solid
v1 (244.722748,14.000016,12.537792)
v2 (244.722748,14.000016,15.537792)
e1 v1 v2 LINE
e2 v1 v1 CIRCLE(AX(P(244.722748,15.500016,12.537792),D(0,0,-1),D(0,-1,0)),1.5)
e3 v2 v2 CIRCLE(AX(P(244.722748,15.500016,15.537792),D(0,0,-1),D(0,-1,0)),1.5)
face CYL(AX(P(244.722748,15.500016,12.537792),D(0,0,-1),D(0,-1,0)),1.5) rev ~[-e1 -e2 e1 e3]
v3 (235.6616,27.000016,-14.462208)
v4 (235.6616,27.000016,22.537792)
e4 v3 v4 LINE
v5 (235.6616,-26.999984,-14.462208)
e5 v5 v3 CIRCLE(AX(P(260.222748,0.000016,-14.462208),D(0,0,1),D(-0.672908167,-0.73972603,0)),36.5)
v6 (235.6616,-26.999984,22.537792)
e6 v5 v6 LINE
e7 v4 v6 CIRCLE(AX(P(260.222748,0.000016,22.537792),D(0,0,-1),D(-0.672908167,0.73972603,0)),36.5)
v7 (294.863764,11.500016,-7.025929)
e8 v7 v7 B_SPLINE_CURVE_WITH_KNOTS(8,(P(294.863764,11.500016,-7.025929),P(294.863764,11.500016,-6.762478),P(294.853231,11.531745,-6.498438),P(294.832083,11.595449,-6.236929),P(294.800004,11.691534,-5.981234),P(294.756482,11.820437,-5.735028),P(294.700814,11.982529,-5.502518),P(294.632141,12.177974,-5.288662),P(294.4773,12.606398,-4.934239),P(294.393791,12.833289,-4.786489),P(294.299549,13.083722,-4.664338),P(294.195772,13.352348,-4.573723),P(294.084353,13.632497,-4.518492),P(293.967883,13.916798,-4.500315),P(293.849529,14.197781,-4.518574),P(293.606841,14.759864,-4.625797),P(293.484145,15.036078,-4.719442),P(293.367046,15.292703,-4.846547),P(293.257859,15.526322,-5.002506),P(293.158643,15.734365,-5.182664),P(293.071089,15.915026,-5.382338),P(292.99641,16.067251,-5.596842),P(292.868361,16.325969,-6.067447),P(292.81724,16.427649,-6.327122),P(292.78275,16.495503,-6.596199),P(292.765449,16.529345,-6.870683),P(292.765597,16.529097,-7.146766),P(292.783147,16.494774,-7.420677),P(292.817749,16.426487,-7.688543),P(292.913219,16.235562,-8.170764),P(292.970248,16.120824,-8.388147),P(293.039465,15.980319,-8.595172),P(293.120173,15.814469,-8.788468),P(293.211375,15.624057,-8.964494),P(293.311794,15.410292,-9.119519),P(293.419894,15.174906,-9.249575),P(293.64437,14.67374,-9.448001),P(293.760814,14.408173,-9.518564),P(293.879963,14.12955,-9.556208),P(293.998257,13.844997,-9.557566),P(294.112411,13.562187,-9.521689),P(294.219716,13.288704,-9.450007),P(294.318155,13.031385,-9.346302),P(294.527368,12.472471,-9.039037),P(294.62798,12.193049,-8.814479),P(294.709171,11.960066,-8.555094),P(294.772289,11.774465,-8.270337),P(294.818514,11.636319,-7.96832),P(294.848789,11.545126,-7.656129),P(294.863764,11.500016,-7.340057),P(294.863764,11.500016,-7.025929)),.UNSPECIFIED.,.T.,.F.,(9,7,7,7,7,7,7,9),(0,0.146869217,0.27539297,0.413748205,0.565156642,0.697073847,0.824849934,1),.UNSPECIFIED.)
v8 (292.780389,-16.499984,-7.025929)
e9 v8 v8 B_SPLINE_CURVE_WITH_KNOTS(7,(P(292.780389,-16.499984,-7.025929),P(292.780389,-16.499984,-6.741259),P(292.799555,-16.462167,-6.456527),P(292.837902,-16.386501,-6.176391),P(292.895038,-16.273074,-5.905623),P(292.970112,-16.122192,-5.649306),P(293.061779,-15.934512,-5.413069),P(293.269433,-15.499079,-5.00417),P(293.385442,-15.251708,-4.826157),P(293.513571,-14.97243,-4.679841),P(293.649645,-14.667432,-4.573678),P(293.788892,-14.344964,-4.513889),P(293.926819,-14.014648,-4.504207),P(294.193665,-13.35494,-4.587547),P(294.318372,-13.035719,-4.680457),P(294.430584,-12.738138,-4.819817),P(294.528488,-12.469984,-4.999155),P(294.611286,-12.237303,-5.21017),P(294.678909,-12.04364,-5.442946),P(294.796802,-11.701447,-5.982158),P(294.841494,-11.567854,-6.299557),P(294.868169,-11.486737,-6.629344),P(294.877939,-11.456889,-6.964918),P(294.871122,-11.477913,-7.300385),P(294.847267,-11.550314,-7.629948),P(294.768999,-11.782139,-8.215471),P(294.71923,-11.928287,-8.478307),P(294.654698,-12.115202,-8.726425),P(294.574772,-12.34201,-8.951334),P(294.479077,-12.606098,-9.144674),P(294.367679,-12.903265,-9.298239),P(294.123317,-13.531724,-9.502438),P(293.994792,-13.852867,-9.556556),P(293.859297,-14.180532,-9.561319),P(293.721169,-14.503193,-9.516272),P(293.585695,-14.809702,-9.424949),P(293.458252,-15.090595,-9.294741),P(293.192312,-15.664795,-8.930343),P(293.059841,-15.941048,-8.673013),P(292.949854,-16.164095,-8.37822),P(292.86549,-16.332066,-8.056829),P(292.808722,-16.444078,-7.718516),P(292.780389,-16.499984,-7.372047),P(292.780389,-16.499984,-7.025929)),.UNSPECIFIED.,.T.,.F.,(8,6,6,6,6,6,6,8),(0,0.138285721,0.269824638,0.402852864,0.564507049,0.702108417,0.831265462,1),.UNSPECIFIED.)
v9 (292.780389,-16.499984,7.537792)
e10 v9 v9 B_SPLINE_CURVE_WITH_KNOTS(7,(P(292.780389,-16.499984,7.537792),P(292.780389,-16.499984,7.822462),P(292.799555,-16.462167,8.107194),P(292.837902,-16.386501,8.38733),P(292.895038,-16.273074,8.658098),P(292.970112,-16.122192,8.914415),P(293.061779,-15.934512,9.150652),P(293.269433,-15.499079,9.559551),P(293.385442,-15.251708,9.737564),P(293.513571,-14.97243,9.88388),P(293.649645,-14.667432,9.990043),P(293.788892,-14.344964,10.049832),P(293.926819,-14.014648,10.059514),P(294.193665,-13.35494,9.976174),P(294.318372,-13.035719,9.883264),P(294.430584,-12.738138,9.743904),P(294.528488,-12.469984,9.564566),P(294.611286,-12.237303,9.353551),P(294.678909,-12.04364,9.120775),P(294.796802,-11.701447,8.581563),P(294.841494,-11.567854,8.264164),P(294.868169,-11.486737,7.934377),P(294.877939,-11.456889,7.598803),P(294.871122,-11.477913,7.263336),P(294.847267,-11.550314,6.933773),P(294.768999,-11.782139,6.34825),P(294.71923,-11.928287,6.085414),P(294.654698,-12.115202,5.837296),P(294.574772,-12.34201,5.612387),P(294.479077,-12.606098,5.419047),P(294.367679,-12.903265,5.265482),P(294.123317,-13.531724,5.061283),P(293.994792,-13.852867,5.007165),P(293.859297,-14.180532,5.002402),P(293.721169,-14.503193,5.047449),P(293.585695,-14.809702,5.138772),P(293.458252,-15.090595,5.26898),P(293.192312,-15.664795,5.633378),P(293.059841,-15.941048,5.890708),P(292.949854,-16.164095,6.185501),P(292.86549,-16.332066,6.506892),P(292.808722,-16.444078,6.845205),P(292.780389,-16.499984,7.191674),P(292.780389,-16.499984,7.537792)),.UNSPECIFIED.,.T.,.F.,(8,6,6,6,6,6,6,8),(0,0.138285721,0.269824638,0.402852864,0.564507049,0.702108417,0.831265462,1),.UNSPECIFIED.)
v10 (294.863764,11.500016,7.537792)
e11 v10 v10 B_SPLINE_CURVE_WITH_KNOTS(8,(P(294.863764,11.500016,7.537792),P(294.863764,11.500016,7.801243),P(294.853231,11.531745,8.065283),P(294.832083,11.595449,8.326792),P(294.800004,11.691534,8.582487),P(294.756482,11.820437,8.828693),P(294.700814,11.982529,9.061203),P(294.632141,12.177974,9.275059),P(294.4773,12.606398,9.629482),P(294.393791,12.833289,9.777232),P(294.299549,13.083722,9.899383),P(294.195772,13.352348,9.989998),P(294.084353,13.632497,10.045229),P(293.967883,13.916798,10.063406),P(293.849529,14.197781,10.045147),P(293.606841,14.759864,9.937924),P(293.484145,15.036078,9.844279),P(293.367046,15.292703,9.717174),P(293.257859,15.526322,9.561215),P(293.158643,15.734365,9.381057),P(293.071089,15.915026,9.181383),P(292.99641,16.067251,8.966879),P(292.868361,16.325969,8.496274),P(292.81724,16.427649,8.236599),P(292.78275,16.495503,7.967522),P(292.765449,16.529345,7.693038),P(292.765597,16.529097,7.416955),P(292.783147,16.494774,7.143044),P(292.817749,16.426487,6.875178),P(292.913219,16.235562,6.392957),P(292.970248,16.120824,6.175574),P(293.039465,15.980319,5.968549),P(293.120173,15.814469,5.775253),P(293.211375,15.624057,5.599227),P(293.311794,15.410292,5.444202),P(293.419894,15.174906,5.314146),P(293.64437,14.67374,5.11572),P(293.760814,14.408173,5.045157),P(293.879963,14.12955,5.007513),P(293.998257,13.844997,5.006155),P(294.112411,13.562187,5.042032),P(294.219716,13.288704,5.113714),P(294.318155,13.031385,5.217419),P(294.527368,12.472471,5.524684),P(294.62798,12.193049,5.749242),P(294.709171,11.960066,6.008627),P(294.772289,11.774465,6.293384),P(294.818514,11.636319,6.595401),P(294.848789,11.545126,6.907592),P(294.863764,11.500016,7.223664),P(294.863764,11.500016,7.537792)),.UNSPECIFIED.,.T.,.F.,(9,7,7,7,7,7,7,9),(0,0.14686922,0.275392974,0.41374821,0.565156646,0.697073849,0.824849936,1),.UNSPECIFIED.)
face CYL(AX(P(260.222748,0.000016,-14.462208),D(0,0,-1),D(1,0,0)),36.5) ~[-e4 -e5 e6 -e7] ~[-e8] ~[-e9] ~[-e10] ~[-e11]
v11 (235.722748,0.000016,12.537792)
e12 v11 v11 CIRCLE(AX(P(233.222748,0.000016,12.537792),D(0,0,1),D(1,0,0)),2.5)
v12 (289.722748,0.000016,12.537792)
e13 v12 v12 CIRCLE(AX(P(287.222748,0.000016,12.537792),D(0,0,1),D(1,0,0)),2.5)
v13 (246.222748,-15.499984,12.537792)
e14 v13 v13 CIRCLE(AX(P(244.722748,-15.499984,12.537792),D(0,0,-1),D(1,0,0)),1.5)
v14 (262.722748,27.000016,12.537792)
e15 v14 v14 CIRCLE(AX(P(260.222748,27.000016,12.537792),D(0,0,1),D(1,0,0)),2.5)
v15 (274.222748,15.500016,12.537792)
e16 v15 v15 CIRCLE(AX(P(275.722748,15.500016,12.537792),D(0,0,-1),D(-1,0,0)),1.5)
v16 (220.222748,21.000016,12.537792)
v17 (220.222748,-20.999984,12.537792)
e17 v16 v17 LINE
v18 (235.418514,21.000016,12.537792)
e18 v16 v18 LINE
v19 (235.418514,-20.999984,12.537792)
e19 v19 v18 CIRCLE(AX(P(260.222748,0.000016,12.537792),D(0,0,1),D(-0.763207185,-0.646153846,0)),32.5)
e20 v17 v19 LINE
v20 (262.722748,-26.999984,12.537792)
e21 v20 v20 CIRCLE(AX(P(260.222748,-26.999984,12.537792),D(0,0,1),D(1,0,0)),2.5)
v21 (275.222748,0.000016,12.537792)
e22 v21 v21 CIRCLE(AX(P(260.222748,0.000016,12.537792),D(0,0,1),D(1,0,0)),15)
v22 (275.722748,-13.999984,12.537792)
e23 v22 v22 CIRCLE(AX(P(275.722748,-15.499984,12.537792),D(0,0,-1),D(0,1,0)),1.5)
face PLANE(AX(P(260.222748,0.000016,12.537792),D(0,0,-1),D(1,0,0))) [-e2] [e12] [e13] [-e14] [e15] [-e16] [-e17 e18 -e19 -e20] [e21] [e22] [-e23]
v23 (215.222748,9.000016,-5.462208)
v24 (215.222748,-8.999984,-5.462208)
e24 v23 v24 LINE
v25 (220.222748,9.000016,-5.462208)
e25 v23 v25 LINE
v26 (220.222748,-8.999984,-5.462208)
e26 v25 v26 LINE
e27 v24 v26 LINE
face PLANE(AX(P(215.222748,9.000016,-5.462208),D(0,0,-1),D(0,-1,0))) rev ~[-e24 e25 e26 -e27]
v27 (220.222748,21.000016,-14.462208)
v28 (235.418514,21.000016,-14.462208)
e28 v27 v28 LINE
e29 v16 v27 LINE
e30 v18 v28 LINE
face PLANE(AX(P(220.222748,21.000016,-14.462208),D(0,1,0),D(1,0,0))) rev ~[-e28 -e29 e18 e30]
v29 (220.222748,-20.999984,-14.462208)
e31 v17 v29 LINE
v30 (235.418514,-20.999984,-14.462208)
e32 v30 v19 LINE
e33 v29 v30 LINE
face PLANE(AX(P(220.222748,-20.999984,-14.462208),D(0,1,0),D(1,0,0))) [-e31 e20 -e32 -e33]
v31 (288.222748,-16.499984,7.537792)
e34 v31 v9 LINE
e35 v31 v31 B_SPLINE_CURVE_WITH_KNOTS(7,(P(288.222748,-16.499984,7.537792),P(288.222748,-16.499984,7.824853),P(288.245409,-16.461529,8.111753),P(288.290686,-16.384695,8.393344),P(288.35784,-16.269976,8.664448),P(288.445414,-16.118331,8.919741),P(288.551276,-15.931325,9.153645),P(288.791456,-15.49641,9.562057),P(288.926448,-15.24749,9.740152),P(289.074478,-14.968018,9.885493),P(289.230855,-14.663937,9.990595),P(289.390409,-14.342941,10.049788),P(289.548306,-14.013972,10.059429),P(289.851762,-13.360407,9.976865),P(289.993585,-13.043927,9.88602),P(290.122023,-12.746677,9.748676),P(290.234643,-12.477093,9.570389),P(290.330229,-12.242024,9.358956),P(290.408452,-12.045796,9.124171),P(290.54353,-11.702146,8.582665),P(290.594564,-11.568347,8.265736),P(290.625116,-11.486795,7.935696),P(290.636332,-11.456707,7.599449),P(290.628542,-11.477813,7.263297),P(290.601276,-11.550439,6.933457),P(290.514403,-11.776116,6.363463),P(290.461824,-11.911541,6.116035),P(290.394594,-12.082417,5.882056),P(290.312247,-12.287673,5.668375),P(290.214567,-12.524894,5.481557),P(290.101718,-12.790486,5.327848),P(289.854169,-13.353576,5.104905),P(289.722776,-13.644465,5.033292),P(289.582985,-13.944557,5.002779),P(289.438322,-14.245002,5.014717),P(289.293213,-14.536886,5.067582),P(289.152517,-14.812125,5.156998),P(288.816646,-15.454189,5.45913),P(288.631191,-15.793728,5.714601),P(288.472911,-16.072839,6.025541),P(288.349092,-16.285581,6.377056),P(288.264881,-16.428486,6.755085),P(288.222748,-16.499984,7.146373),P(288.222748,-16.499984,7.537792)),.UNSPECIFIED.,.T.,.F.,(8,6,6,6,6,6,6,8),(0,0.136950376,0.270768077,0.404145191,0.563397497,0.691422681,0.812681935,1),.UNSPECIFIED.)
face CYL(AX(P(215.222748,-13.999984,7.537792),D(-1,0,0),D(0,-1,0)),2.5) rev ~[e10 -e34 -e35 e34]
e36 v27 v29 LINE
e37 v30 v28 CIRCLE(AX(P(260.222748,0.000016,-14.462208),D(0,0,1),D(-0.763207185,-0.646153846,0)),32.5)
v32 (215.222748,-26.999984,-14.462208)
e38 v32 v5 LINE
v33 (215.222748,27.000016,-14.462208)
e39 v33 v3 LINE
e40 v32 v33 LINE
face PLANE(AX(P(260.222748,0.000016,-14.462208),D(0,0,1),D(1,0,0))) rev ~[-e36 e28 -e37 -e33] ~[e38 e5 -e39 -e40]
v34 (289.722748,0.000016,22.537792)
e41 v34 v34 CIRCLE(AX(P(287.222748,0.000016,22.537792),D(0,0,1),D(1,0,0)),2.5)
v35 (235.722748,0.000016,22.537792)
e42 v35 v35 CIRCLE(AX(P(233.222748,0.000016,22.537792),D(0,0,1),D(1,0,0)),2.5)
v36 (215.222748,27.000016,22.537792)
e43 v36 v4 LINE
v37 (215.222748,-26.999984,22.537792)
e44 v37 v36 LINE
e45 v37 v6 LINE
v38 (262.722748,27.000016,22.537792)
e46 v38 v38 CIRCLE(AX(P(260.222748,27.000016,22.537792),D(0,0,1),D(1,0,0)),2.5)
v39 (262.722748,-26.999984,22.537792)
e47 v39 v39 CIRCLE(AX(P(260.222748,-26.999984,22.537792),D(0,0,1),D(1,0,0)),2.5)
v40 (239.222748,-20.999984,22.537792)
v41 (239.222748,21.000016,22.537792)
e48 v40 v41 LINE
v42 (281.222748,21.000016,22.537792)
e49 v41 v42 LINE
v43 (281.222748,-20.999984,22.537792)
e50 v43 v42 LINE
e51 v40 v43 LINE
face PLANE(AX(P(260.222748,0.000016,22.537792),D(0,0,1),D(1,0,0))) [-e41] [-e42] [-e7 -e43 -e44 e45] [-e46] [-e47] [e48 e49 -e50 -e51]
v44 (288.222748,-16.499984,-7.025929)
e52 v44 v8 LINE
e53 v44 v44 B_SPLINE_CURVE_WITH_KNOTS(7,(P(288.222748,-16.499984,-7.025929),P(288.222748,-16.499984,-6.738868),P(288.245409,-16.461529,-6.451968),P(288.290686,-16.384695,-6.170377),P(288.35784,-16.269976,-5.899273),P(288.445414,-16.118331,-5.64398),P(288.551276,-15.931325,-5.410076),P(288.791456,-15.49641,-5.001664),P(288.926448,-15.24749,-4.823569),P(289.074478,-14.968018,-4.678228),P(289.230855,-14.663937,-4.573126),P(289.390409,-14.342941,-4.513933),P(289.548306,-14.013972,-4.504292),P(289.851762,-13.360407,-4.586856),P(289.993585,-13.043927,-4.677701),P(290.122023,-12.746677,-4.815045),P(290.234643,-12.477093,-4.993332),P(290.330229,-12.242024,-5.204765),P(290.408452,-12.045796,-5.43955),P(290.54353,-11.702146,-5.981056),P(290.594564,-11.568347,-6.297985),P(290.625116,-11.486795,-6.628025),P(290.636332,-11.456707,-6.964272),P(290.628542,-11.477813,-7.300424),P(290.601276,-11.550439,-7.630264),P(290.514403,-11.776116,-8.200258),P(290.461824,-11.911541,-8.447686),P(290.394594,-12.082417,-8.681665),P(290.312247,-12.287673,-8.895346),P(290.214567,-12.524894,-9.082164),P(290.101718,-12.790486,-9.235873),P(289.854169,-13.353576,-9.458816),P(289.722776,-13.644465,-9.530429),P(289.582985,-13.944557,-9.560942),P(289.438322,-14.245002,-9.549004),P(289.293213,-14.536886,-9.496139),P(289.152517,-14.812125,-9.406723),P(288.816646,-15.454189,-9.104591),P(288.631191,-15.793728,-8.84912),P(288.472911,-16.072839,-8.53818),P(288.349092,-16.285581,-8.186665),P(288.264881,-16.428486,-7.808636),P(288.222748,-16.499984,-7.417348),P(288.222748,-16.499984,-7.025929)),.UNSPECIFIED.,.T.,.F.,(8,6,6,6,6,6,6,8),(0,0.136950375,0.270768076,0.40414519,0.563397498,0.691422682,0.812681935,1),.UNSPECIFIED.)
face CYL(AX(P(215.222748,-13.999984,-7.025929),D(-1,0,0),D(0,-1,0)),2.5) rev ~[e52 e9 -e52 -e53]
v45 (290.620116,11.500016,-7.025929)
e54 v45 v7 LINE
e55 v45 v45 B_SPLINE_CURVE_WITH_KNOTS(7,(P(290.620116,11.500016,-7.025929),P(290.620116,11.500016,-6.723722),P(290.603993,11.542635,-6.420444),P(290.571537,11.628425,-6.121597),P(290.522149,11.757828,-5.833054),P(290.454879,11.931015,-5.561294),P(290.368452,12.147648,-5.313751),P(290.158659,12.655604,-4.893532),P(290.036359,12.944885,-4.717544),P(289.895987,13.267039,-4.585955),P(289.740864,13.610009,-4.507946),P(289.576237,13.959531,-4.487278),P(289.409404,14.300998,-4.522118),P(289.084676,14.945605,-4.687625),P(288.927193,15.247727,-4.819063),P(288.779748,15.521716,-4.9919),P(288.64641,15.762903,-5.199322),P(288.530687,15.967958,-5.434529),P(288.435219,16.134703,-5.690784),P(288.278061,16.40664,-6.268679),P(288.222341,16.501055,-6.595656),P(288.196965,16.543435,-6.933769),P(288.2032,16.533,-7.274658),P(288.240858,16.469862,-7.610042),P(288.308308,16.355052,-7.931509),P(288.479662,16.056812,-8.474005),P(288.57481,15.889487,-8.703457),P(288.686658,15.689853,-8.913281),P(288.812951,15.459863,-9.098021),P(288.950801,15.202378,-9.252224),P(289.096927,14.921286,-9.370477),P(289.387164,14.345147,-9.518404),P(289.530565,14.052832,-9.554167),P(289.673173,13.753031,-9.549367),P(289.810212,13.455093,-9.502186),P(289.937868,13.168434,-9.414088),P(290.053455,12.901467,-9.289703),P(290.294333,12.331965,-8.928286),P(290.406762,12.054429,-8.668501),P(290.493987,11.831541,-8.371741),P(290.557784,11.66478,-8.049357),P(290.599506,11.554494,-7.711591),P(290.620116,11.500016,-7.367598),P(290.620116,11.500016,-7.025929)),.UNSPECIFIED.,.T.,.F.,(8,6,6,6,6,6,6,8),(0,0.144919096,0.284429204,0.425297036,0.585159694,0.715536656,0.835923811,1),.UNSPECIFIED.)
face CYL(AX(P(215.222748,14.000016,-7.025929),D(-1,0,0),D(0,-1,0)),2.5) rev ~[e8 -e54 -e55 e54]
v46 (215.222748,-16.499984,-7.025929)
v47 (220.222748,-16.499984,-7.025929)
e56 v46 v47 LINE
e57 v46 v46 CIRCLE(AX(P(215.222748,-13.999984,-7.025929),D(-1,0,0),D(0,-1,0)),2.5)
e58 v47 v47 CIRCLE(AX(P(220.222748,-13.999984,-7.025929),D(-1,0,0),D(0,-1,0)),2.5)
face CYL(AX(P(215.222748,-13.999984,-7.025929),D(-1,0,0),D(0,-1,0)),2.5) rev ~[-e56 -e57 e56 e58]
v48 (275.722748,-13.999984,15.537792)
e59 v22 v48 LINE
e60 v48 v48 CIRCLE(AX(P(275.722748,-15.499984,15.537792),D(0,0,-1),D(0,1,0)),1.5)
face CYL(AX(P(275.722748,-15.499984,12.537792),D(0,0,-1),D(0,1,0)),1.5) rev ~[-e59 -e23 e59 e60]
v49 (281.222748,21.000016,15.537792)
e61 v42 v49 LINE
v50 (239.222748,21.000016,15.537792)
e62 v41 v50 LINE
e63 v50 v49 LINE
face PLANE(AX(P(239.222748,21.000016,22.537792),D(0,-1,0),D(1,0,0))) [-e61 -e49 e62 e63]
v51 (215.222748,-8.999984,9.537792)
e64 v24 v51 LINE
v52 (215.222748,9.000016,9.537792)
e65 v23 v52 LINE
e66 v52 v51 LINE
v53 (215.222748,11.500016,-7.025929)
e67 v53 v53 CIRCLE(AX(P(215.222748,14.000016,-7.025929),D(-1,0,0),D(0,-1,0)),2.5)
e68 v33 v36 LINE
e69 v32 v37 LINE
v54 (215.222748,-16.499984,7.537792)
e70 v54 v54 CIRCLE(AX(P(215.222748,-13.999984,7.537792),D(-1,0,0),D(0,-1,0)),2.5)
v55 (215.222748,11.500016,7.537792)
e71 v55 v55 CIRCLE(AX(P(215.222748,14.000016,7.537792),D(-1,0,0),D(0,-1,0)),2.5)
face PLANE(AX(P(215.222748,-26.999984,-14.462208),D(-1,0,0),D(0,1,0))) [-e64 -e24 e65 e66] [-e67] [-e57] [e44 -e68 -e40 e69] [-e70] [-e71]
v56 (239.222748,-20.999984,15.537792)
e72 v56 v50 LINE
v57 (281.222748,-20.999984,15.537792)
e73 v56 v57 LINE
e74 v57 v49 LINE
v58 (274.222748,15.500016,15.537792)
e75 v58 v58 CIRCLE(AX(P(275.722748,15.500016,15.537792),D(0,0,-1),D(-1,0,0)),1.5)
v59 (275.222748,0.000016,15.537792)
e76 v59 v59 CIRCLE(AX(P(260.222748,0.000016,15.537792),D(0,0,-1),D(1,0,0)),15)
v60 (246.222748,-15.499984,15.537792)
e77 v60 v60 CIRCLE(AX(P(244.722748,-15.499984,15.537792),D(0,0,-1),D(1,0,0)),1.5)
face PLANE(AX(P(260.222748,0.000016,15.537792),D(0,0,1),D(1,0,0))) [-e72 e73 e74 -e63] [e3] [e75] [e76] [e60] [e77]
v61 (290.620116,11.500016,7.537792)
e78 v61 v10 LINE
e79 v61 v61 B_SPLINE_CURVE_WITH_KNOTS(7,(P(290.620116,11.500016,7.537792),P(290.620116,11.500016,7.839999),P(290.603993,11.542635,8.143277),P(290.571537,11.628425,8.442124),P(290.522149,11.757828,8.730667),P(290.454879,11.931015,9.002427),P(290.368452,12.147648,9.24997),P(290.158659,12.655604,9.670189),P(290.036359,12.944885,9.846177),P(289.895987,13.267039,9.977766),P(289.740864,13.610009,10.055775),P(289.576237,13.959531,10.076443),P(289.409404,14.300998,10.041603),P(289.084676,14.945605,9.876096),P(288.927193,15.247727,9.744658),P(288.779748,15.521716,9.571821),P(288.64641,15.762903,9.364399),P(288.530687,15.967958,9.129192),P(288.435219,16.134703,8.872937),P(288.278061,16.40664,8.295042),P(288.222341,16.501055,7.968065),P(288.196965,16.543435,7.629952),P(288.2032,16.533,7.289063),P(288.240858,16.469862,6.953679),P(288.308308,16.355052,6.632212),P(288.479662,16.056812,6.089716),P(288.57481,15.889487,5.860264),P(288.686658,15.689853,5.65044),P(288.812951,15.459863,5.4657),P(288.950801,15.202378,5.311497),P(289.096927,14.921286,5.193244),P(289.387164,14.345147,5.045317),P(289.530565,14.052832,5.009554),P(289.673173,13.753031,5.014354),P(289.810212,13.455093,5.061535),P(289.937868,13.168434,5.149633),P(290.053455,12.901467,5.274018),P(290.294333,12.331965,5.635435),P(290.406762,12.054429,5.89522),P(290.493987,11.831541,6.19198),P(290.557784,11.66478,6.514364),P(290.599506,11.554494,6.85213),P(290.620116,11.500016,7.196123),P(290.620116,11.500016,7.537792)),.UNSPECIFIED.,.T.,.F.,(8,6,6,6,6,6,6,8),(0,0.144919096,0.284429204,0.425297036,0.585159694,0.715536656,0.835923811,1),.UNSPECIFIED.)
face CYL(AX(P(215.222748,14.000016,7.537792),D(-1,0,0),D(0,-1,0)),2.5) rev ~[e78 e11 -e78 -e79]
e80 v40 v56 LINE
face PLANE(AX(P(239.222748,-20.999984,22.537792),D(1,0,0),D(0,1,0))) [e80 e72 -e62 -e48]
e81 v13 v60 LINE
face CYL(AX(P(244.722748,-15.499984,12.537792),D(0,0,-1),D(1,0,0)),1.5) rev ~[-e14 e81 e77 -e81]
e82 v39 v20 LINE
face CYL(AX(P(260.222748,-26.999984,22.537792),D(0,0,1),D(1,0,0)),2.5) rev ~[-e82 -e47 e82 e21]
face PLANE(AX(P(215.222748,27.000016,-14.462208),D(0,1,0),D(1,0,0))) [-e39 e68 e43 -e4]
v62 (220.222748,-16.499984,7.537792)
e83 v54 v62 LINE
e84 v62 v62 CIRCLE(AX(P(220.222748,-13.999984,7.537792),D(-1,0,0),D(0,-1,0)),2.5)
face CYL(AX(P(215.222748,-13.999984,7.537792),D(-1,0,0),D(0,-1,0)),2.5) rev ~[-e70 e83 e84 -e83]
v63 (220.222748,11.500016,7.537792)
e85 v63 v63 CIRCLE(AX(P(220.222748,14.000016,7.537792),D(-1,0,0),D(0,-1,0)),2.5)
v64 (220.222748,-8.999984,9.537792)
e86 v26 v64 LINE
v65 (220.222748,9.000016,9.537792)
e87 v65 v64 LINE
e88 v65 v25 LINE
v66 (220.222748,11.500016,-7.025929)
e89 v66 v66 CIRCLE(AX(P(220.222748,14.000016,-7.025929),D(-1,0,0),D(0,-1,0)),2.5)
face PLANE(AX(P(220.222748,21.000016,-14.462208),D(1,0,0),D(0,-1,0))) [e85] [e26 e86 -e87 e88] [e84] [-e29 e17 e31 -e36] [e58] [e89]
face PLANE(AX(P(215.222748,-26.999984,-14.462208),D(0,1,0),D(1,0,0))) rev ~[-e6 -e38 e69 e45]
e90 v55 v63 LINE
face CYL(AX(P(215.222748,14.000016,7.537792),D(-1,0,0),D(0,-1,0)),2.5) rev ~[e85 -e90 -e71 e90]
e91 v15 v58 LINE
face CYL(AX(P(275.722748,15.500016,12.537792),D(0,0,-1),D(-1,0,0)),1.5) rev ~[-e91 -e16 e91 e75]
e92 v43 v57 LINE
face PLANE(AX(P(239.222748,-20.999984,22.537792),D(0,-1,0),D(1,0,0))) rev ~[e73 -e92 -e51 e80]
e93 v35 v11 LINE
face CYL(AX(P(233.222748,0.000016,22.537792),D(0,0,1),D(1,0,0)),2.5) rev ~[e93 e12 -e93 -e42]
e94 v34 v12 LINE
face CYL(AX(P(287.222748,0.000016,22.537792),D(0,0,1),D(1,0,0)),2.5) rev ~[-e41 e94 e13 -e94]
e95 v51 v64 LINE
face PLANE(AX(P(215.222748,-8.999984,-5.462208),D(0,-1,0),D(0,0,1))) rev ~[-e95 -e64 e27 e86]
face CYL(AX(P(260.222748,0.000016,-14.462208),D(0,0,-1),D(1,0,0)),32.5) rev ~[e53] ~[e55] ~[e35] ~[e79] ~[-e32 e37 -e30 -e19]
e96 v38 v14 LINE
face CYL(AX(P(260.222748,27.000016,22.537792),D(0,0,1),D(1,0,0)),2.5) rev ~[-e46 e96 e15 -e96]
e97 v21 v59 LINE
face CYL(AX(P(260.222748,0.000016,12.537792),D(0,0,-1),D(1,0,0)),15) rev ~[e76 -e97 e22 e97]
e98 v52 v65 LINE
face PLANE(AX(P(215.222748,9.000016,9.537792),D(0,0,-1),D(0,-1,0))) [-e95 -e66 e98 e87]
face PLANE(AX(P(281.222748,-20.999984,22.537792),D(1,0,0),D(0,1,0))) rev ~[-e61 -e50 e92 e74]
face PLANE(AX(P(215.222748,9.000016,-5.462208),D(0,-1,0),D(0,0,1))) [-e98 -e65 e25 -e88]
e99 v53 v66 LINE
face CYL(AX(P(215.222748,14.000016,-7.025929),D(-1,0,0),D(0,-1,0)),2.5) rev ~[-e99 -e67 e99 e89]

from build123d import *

# Parameters (mm, degrees)
SKETCH054_R           = 36.5
PAD024_DEPTH          = 37
SKETCH055_W           = 42
SKETCH055_H           = 42
POCKET015_DEPTH       = 7
SKETCH056_R           = 32.5
POCKET016_DEPTH       = 27
SKETCH057_R           = 15
POCKET017_DEPTH       = 5
SKETCH058_R           = 1.5
POCKET018_DEPTH       = 5
POLARPATTERN004_COUNT = 4
PAD025_DEPTH          = 37
SKETCH060_W           = 42
SKETCH060_H           = 21
POCKET019_DEPTH       = 30
SKETCH061_W           = 18
SKETCH061_H           = 15
POCKET020_DEPTH       = 5
SKETCH062_W           = 25
SKETCH062_H           = 42
POCKET021_DEPTH       = 10
SKETCH064_R           = 2.5
POCKET023_DEPTH       = 81.501
SKETCH065_R           = 2.5
POCKET024_DEPTH       = 37.001


with BuildPart() as part:
    # Sketch054 → Pad024 (new body)
    with BuildSketch(Plane.XY):
        Circle(SKETCH054_R)
    extrude(amount=PAD024_DEPTH)

    # Sketch055 (on Face3 of Pad024) → Pocket015 (cut)
    with BuildSketch(Plane.XY.offset(37)):
        Rectangle(SKETCH055_W, SKETCH055_H)
    extrude(amount=-POCKET015_DEPTH, mode=Mode.SUBTRACT)

    # Sketch056 (on Face2 of Pocket015) → Pocket016 (cut)
    with BuildSketch(Plane(origin=(0, 0, 0), x_dir=(1, 0, 0), z_dir=(0, 0, -1))):
        Circle(SKETCH056_R)
    extrude(amount=-POCKET016_DEPTH, mode=Mode.SUBTRACT)

    # Sketch057 (on Face9 of Pocket016) → Pocket017 (cut)
    with BuildSketch(Plane(origin=(0, 0, 27), x_dir=(1, 0, 0), z_dir=(0, 0, -1))):
        Circle(SKETCH057_R)
    extrude(amount=-POCKET017_DEPTH, mode=Mode.SUBTRACT)

    # Sketch058 (on Face9 of Pocket017) → Pocket018 (cut)
    with BuildSketch(Plane(origin=(0, 0, 27), x_dir=(1, 0, 0), z_dir=(0, 0, -1))):
        with Locations((-15.5, 15.5)):
            Circle(SKETCH058_R)
    pocket018 = extrude(amount=-POCKET018_DEPTH, mode=Mode.SUBTRACT)

    # PolarPattern004: Pocket018 ×4 about axis
    polarpattern004_axis = Axis((0, 0, 27), (0, 0, -1))
    for i in range(1, POLARPATTERN004_COUNT):
        add(pocket018.rotate(polarpattern004_axis, i * 360 / POLARPATTERN004_COUNT), mode=Mode.SUBTRACT)

    # Sketch059 (on Face2 of PolarPattern004) → Pad025 (join)
    with BuildSketch(Plane(origin=(0, 0, 0), x_dir=(1, 0, 0), z_dir=(0, 0, -1))):
        with BuildLine():
            Line((-45, 27), (-45, -27))
            Line((-45, -27), (-24.561148, -27))
            ThreePointArc((-24.561148, 27), (-36.5, 0), (-24.561148, -27))
            Line((-45, 27), (-24.561148, 27))
        make_face()
    extrude(amount=-PAD025_DEPTH)

    # Sketch060 (on Face2 of Pad025) → Pocket019 (cut)
    with BuildSketch(Plane(origin=(-40, 0, 0), x_dir=(0, -1, 0), z_dir=(-1, 0, 0))):
        with Locations((0, 16.5)):
            Rectangle(SKETCH060_W, SKETCH060_H)
    extrude(amount=-POCKET019_DEPTH, mode=Mode.SUBTRACT)

    # Sketch061 (on Face2 of Pocket019) → Pocket020 (cut)
    with BuildSketch(Plane(origin=(-45, 0, 0), x_dir=(0, -1, 0), z_dir=(-1, 0, 0))):
        with Locations((0, 16.5)):
            Rectangle(SKETCH061_W, SKETCH061_H)
    extrude(amount=-POCKET020_DEPTH, mode=Mode.SUBTRACT)

    # Sketch062 (on Face4 of Pocket020) → Pocket021 (cut)
    with BuildSketch(Plane(origin=(0, 0, 0), x_dir=(1, 0, 0), z_dir=(0, 0, -1))):
        with Locations((-27.5, 0)):
            Rectangle(SKETCH062_W, SKETCH062_H)
    extrude(amount=-POCKET021_DEPTH, mode=Mode.SUBTRACT)

    # Sketch064 (on Face2 of Pocket021) → Pocket023 (cut, through all)
    with BuildSketch(Plane(origin=(-45, 0, 0), x_dir=(0, -1, 0), z_dir=(-1, 0, 0))):
        with Locations((-14, 22)):
            Circle(SKETCH064_R)
        with Locations((14, 22)):
            Circle(SKETCH064_R)
        with Locations((14, 7.436279)):
            Circle(SKETCH064_R)
        with Locations((-14, 7.436279)):
            Circle(SKETCH064_R)
    extrude(amount=-POCKET023_DEPTH, mode=Mode.SUBTRACT)

    # Sketch065 (on Face5 of Pocket023) → Pocket024 (cut, through all)
    with BuildSketch(Plane.XY.offset(37)):
        with Locations((27, 0)):
            Circle(SKETCH065_R)
        with Locations((0, 27)):
            Circle(SKETCH065_R)
        with Locations((0, -27)):
            Circle(SKETCH065_R)
        with Locations((-27, 0)):
            Circle(SKETCH065_R)
    extrude(amount=-POCKET024_DEPTH, mode=Mode.SUBTRACT)


with BuildPart() as part_1:
    # Body005 placement: moved
    add(part.part.moved(Location((260.222748, 1.6e-05, -14.462208))))


solid = part_1.part
